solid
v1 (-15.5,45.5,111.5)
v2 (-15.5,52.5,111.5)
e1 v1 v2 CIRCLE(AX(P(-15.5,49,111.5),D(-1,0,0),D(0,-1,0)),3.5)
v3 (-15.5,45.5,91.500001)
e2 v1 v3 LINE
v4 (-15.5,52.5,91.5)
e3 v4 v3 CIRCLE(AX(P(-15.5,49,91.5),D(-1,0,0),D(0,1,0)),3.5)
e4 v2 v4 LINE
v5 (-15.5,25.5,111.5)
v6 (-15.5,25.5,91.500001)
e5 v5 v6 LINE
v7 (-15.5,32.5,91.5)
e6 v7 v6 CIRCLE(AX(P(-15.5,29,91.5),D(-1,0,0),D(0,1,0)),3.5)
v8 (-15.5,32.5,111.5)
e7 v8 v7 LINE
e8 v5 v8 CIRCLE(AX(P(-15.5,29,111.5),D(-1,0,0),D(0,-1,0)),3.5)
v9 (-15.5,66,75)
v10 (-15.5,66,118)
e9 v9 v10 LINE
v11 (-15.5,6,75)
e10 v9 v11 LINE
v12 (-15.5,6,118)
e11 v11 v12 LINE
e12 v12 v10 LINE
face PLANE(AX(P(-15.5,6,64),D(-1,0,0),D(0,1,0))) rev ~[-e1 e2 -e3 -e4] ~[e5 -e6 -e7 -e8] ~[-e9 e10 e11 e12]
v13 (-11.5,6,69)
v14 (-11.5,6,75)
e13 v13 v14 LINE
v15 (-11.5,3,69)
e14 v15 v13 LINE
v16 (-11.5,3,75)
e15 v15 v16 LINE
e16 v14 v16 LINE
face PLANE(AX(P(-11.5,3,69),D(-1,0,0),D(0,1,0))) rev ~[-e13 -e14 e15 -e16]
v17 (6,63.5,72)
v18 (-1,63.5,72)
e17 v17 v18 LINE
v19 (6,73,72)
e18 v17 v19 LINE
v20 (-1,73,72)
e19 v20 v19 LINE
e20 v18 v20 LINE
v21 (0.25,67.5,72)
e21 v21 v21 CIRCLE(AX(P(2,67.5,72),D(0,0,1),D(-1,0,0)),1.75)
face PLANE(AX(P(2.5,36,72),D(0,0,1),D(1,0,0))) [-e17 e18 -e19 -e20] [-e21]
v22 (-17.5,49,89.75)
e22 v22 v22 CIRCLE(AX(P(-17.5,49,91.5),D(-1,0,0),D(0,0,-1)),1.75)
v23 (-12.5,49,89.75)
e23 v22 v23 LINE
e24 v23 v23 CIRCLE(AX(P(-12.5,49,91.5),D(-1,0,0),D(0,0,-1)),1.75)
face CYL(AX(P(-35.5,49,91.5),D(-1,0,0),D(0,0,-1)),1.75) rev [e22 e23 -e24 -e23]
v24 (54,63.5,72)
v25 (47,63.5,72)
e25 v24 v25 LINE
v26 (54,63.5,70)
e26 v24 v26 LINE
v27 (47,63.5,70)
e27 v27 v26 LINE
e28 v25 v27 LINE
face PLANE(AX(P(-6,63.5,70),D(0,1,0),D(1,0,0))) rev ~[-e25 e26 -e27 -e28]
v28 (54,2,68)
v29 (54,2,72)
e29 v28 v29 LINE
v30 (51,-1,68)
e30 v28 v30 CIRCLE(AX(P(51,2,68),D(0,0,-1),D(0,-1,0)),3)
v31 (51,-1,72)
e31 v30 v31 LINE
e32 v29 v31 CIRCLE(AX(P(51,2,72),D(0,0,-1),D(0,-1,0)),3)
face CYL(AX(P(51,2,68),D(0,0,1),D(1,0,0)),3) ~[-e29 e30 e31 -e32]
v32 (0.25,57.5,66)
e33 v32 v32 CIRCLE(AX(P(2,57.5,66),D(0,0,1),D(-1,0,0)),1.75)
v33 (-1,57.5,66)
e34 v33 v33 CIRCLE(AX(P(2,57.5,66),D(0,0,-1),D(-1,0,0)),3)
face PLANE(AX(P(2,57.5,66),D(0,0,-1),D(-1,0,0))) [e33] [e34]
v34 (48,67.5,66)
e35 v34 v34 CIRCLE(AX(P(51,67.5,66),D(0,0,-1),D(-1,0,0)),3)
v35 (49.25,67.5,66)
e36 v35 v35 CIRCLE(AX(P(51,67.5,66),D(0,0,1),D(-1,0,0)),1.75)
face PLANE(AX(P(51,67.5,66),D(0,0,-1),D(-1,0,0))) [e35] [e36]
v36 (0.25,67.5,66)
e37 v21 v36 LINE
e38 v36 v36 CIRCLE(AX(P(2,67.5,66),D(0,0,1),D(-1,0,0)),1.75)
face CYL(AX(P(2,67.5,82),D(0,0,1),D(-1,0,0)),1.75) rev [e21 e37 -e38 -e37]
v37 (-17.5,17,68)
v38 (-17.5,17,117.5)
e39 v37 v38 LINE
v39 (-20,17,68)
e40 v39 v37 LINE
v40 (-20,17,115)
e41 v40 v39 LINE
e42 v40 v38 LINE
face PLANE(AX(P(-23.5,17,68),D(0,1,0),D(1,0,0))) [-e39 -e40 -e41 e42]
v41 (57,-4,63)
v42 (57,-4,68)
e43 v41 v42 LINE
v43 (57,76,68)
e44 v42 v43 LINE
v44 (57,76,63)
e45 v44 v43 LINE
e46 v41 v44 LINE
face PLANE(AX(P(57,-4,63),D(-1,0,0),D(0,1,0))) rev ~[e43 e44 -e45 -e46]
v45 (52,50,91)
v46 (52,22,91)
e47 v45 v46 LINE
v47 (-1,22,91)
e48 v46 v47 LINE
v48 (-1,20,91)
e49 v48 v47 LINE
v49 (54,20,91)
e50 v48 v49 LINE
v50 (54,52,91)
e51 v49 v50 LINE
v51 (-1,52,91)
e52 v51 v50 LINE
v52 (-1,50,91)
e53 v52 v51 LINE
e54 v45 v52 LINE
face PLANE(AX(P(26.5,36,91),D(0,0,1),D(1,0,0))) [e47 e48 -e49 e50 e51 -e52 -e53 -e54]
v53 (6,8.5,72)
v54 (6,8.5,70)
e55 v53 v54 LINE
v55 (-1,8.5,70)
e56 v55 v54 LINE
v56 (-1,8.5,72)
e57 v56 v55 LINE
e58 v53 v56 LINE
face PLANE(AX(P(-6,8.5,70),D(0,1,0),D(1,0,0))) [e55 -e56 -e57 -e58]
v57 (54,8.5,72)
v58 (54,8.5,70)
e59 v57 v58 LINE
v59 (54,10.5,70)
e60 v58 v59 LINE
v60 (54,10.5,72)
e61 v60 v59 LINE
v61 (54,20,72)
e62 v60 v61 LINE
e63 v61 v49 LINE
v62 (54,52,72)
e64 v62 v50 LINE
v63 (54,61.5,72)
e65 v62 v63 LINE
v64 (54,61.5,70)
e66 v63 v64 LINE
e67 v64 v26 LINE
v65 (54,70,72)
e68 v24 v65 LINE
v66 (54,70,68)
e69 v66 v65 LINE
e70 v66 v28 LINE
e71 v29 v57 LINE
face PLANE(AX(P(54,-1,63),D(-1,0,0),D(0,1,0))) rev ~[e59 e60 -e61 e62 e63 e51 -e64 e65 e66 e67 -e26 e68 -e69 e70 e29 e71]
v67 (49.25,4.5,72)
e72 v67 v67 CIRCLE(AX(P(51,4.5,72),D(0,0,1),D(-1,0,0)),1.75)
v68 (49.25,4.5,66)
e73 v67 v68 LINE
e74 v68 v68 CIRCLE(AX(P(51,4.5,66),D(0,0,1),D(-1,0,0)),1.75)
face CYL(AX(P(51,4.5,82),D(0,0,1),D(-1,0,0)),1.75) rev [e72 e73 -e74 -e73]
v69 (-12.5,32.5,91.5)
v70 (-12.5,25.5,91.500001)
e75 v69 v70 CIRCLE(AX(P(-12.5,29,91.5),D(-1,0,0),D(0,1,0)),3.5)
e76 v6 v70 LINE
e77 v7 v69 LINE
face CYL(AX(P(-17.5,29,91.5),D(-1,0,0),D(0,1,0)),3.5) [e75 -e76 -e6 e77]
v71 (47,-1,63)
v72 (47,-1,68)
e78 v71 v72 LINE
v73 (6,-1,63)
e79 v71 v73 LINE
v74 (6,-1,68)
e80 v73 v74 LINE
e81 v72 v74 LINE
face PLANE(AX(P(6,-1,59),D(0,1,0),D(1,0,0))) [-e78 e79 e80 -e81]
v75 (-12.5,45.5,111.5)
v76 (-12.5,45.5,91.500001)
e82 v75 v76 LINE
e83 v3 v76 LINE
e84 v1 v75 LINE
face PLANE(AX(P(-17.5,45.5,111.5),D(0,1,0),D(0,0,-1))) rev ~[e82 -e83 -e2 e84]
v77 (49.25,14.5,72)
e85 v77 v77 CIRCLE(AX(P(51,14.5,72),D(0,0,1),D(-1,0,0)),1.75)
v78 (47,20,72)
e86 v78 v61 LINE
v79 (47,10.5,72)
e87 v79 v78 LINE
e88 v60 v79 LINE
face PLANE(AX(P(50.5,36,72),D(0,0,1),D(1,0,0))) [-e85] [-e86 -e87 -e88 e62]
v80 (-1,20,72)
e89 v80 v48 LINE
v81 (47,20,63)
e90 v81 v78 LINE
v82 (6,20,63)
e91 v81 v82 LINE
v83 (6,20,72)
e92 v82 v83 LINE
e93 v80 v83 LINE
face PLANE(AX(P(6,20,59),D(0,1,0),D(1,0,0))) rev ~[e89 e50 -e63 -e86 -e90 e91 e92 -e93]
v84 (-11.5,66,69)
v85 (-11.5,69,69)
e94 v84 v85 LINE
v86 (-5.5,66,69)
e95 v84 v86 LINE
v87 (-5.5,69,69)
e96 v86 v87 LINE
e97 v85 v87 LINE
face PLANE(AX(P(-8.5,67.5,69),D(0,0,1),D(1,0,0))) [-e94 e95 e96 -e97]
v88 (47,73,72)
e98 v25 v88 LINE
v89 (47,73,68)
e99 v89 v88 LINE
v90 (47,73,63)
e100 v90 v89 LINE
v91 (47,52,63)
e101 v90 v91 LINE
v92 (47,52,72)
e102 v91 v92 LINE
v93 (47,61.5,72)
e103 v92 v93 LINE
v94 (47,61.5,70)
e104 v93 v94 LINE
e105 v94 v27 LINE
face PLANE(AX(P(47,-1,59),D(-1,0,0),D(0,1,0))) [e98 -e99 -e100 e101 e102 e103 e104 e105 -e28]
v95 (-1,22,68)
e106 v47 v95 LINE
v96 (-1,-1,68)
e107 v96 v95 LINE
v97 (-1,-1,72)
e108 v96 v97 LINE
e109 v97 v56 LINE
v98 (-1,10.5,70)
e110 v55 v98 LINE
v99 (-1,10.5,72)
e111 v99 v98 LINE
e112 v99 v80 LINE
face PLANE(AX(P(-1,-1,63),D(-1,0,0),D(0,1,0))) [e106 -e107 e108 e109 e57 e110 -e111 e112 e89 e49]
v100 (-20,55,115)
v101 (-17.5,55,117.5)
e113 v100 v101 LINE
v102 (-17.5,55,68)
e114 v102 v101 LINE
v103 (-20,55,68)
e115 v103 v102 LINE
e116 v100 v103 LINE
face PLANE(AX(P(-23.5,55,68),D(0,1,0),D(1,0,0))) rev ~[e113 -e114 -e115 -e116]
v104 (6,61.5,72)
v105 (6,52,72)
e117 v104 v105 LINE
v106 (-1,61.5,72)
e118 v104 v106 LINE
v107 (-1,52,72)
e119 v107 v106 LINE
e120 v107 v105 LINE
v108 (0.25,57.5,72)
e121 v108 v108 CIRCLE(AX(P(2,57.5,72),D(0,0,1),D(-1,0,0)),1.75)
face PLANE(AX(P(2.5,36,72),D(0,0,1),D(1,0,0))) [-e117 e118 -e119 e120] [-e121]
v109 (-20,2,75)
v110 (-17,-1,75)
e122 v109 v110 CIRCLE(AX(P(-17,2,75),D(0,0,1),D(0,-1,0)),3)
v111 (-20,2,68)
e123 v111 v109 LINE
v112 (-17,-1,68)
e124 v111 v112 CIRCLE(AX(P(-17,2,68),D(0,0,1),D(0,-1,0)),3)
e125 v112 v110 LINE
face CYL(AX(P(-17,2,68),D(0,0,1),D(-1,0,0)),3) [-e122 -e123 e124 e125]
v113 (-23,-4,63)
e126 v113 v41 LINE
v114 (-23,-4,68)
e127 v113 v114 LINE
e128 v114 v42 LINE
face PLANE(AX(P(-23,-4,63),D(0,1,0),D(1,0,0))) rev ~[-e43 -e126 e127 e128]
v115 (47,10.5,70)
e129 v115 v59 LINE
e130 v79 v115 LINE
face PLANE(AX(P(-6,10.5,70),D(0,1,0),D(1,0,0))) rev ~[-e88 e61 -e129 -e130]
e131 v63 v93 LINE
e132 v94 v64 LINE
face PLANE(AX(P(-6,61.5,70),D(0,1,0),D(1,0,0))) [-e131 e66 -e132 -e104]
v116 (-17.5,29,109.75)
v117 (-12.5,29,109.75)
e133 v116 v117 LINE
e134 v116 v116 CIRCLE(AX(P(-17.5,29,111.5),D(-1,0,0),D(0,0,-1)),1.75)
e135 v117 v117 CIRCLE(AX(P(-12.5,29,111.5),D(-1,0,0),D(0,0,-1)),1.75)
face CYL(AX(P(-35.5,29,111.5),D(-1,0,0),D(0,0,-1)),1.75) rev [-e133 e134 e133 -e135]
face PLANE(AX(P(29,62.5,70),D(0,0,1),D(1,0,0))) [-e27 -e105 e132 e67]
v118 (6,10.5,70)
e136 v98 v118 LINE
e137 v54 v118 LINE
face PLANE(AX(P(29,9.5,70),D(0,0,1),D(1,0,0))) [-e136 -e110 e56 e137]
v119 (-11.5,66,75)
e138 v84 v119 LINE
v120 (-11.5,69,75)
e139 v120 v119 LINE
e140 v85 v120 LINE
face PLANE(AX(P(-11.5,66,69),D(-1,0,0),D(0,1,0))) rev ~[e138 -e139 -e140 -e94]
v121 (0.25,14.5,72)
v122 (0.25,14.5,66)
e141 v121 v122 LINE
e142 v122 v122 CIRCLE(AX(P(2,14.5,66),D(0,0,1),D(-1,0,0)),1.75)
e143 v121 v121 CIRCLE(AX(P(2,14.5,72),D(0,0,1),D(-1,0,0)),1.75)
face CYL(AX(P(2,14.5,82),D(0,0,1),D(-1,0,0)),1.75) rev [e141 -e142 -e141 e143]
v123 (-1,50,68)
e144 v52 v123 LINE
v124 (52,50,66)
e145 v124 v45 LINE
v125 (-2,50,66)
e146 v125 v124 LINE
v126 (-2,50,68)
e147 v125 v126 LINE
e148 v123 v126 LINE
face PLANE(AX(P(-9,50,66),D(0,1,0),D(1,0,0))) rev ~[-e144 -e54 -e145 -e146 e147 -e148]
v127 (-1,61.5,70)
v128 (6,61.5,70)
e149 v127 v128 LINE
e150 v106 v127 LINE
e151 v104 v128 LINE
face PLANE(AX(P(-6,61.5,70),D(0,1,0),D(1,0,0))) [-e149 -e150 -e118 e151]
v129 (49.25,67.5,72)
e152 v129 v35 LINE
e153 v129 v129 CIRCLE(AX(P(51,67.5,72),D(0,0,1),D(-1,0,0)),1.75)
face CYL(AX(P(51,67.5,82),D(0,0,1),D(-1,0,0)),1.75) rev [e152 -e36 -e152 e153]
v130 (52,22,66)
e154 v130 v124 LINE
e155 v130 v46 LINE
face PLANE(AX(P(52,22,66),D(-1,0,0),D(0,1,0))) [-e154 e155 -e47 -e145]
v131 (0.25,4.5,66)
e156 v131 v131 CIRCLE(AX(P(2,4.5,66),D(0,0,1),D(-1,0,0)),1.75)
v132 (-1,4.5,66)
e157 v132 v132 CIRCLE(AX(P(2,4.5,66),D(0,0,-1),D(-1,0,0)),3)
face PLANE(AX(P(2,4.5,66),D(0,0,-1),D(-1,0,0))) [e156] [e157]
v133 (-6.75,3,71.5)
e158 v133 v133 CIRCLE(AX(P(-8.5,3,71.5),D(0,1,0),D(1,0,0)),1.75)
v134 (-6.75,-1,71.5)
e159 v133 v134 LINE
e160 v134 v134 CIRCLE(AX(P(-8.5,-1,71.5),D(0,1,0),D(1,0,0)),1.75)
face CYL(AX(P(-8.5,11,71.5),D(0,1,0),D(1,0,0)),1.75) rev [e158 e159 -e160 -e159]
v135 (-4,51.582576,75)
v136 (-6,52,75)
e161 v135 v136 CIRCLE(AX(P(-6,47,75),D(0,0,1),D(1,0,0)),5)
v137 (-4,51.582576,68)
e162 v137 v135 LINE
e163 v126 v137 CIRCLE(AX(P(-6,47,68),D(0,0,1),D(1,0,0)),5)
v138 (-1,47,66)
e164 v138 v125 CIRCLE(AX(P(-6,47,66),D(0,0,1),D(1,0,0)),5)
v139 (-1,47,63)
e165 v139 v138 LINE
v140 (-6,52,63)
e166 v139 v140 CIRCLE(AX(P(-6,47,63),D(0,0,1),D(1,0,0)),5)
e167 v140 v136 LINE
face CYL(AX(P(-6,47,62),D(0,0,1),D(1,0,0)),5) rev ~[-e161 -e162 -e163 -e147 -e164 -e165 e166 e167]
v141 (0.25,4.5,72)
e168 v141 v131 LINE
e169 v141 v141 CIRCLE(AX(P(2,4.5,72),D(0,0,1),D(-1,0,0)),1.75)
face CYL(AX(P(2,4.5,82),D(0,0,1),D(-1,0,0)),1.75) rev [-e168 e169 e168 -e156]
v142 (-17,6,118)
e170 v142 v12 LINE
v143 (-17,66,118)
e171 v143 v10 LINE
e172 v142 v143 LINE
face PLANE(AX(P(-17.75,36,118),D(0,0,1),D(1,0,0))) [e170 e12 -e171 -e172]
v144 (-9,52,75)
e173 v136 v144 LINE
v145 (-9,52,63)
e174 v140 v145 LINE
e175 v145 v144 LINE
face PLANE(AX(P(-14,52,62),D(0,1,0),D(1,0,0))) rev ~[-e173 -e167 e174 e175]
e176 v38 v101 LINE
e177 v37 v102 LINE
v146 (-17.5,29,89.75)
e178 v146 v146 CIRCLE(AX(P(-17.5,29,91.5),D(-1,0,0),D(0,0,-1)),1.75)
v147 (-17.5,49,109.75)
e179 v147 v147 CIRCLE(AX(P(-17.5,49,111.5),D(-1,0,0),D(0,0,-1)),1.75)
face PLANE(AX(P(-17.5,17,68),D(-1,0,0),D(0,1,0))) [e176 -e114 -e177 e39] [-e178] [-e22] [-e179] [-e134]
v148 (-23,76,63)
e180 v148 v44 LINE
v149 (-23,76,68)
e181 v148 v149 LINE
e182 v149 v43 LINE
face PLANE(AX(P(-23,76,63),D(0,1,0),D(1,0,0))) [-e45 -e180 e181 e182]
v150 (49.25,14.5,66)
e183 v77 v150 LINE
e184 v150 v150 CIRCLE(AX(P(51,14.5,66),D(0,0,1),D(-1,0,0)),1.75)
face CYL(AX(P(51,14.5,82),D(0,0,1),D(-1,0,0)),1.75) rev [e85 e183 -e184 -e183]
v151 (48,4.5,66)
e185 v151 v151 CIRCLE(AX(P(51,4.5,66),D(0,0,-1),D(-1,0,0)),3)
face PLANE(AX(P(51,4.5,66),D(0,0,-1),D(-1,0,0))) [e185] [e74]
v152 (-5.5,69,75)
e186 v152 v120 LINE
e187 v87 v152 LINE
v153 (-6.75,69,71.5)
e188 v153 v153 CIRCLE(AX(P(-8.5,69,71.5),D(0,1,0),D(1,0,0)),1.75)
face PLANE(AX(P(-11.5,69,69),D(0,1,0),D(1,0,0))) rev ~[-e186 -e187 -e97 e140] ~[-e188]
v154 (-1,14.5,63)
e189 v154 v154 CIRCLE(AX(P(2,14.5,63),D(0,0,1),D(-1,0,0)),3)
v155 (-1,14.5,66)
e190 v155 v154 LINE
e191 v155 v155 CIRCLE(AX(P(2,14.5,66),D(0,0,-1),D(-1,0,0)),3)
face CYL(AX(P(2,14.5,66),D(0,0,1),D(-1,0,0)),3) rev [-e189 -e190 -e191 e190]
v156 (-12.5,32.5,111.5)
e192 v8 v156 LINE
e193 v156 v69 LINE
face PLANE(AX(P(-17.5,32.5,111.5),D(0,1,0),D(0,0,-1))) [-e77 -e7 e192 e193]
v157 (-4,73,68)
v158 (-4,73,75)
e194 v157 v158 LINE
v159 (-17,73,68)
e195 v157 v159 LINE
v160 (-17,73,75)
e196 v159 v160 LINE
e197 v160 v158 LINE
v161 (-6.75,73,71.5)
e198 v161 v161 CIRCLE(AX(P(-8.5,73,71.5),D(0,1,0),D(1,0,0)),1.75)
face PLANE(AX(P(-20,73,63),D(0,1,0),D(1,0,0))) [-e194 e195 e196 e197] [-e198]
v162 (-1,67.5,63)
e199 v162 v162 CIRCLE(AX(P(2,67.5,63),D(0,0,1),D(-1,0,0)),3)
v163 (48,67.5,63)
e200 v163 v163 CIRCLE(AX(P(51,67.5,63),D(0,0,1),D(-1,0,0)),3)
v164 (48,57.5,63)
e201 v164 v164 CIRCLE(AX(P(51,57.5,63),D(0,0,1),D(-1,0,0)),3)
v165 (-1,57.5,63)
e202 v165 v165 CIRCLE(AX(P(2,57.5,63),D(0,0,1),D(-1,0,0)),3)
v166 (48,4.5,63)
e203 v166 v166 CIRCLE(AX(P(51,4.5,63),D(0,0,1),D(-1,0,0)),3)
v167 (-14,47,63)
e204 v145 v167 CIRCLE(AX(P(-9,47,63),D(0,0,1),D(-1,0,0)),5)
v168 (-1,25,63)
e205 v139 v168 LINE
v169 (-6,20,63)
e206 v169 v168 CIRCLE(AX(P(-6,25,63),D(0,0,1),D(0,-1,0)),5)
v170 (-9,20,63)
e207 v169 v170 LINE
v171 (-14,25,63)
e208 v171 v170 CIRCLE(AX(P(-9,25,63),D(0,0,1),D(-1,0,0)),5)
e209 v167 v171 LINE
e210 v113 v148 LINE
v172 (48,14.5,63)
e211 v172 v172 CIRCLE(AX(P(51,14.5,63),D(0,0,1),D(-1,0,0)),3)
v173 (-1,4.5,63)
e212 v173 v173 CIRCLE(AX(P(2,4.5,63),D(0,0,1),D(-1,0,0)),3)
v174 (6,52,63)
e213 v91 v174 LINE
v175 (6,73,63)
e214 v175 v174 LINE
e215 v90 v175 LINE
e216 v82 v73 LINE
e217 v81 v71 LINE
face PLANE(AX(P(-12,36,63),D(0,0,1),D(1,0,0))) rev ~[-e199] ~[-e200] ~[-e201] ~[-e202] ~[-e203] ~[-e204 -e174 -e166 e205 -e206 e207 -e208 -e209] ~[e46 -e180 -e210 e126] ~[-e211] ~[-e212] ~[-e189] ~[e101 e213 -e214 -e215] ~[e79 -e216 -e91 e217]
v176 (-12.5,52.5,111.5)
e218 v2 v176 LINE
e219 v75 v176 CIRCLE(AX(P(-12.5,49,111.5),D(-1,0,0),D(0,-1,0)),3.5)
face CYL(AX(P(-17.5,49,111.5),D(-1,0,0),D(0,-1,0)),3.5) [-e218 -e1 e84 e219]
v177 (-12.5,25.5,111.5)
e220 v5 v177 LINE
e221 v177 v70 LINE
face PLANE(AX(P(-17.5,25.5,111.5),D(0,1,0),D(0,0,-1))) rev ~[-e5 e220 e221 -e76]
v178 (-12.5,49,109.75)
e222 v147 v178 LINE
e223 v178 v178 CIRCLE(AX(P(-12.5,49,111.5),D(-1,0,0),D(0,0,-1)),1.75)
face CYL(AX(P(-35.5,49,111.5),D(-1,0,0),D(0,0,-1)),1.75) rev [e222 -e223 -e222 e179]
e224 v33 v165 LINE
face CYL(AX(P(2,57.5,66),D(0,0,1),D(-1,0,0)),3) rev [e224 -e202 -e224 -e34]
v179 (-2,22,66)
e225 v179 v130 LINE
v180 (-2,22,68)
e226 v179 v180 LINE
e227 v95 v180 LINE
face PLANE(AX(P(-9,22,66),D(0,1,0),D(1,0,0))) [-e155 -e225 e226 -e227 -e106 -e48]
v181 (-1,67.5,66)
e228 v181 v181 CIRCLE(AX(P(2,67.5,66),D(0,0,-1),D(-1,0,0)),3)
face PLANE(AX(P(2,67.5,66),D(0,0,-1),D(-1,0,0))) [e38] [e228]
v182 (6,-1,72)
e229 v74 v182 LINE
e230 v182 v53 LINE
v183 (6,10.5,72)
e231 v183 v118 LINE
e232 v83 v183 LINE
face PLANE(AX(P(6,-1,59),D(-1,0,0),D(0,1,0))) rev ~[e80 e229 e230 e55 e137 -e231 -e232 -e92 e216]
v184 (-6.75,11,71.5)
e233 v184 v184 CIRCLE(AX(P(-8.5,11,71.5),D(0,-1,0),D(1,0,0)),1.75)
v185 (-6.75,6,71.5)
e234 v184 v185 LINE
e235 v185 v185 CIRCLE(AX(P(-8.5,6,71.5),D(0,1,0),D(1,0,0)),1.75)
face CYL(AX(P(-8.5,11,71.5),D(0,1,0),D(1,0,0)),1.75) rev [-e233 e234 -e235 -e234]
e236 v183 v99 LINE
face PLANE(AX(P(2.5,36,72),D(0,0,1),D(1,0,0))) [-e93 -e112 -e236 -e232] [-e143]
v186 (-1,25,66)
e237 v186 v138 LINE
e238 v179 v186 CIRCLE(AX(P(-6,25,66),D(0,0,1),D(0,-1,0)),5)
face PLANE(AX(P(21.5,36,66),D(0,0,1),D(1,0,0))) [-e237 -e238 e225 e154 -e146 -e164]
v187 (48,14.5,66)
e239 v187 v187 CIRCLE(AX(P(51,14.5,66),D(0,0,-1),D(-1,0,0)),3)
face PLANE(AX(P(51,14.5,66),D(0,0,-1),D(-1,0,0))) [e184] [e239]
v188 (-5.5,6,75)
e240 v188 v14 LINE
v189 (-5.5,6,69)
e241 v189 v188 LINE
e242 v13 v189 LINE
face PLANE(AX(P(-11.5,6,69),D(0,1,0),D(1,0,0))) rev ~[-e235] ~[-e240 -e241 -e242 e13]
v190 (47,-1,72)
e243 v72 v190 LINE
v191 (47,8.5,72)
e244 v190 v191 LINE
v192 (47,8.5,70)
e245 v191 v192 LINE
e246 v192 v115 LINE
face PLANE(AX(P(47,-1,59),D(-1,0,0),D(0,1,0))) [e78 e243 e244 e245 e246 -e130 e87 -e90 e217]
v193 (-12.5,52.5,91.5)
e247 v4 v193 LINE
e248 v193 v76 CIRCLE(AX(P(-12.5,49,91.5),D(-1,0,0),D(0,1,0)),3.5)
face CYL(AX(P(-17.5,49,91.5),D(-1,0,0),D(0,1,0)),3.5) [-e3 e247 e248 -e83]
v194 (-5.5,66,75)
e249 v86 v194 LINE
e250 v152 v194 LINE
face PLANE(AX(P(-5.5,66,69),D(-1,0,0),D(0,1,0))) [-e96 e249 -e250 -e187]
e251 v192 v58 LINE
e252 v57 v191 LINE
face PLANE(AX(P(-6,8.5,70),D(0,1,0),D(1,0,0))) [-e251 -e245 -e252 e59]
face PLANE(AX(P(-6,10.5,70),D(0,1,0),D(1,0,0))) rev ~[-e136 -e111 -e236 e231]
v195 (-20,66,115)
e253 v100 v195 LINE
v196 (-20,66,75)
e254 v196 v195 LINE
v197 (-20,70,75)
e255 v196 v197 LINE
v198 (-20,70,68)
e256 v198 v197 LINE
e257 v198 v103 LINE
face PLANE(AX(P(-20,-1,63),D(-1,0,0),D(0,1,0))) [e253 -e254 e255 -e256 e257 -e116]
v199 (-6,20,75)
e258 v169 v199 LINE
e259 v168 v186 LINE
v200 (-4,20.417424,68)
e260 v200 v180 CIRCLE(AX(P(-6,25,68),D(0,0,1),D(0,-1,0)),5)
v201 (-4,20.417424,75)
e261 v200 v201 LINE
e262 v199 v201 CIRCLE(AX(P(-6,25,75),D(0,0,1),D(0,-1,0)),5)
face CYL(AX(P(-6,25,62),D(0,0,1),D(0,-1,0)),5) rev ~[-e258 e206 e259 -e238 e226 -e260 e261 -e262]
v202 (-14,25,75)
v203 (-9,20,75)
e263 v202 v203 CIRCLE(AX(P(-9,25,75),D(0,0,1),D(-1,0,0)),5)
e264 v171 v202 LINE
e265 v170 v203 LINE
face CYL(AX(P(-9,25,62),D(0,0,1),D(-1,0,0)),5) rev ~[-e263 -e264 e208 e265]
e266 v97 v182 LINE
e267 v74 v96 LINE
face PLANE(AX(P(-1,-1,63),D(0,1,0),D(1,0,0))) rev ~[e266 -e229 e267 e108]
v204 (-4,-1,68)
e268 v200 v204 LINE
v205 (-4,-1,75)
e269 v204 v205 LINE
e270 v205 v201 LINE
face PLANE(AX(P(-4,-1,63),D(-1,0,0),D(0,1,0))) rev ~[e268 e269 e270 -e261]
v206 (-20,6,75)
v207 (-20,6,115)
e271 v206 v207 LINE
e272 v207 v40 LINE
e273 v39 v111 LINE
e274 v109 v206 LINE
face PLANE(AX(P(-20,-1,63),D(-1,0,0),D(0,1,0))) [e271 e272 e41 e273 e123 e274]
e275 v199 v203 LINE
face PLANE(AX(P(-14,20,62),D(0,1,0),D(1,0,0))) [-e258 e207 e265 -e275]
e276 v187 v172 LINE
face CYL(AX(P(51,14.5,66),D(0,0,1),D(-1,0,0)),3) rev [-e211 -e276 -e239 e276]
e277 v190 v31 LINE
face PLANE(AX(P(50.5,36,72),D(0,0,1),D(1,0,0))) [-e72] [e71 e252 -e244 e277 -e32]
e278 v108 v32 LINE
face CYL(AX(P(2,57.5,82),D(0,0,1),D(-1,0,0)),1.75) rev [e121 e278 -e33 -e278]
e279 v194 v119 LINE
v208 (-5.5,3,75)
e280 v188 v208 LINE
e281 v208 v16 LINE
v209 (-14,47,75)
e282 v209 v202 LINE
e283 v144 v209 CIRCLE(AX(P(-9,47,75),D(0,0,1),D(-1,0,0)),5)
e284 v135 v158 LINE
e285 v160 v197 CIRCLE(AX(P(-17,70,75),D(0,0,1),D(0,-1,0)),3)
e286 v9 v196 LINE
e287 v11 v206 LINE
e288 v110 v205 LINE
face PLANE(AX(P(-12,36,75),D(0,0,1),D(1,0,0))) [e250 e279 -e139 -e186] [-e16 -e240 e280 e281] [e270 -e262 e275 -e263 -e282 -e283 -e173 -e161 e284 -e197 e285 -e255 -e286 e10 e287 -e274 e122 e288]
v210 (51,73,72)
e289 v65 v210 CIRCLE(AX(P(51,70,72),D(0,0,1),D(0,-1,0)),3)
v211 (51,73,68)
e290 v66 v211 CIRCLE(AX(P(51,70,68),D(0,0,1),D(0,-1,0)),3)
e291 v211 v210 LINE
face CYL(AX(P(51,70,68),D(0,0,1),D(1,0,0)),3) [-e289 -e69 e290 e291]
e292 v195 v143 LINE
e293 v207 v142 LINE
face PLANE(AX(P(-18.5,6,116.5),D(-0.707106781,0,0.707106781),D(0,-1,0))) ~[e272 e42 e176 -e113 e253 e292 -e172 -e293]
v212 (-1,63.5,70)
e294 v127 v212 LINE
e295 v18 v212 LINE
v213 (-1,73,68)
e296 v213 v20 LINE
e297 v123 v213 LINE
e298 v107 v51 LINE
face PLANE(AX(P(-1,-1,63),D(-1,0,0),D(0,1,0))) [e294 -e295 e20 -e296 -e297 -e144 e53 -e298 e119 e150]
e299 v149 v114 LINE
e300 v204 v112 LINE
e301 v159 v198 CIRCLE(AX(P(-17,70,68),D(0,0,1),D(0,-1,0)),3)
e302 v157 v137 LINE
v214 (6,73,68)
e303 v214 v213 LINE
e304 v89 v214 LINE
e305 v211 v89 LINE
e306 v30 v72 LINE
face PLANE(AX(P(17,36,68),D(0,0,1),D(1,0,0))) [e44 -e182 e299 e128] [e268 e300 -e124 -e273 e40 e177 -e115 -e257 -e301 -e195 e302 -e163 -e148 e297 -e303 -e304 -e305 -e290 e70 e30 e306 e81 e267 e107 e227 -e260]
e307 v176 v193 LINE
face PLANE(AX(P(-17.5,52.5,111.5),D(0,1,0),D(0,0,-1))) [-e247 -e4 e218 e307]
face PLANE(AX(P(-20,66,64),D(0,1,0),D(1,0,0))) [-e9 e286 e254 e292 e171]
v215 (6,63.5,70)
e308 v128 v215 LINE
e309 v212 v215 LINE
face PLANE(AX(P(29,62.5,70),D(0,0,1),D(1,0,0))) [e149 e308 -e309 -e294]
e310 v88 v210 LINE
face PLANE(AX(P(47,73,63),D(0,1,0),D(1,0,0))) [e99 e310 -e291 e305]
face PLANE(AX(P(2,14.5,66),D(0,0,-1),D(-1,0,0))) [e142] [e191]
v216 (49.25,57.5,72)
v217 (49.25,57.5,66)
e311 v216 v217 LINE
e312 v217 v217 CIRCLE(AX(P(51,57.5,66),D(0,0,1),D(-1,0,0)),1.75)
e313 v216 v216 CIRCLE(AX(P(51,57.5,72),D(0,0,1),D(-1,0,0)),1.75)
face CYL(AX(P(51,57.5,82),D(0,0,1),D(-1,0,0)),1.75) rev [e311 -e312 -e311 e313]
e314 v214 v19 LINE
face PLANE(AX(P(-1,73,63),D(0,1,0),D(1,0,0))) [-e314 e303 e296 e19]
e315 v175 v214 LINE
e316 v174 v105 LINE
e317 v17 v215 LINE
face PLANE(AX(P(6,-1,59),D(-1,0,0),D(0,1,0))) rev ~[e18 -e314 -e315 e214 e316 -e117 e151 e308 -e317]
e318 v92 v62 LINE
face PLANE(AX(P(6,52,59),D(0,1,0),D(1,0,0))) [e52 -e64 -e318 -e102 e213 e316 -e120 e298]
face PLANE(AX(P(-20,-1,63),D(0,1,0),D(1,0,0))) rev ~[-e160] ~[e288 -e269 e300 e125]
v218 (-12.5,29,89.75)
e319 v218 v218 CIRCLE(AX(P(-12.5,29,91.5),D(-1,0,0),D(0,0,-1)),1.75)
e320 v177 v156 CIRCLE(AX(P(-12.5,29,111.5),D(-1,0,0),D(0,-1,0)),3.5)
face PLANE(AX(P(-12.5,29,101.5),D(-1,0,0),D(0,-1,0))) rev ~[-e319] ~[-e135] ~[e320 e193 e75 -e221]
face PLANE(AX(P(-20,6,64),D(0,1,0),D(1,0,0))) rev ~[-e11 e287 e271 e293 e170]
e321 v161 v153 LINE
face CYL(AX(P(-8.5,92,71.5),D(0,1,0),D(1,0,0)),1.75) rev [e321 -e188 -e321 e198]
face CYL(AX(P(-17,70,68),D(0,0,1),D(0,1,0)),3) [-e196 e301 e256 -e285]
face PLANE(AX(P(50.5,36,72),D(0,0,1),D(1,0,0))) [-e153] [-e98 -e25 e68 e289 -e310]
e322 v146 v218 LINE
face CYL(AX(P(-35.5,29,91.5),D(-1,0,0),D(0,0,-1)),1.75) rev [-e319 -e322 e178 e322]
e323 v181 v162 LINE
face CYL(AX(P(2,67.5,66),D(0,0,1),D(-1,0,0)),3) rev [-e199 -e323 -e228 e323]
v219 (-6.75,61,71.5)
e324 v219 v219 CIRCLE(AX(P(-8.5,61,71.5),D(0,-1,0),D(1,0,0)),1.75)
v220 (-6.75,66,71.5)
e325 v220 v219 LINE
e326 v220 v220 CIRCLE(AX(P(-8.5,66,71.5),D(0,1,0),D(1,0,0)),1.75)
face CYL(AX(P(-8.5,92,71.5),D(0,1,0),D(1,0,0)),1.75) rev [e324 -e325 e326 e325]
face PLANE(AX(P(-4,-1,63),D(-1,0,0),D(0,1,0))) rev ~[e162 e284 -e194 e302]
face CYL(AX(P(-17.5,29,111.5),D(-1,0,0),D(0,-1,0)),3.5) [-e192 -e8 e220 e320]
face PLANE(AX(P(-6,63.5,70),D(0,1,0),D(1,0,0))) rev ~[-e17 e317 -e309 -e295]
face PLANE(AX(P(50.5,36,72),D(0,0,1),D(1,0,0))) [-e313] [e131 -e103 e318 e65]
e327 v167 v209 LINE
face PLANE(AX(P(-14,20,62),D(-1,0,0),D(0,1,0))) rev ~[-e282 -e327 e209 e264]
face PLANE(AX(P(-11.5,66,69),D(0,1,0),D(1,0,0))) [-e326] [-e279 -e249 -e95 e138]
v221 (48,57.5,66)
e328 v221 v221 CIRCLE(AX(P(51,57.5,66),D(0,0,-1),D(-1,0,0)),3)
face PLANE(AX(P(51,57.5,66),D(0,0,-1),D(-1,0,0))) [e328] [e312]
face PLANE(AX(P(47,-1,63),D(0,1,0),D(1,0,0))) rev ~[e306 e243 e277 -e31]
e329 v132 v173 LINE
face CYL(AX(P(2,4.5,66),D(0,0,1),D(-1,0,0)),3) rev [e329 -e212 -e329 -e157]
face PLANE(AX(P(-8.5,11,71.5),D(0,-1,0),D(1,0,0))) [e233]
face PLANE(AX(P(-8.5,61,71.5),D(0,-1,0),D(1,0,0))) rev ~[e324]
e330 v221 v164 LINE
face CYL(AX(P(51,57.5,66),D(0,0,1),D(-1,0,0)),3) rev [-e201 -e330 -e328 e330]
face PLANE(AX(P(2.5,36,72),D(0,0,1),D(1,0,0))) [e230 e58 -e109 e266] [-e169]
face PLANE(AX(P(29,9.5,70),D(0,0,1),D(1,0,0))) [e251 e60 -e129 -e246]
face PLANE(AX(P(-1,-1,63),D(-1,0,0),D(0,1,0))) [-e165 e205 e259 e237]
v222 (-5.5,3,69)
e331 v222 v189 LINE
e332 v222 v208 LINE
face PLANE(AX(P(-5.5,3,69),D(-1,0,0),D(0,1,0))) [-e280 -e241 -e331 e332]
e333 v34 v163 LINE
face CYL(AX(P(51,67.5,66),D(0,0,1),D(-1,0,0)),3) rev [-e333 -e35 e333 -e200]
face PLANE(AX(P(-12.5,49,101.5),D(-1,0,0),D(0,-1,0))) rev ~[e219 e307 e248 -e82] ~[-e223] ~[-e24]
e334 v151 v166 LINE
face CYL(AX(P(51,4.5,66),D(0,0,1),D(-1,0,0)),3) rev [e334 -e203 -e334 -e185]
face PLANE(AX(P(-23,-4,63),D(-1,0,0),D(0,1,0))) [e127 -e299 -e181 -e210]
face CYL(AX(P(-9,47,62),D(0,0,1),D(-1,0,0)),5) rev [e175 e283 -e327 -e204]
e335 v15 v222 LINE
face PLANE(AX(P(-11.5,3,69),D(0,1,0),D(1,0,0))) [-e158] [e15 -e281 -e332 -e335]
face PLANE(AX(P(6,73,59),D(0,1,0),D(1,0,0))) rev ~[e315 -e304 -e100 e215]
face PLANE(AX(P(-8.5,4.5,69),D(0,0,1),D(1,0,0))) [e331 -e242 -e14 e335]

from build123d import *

# Parameters (mm, degrees)
BOX035_W                = 6
BOX035_H                = 38
BOX035_DEPTH            = 68
CYLINDER040_R           = 1.75
CYLINDER040_DEPTH       = 31
CYLINDER040_PITCH_ANGLE = 90
CYLINDER041_R           = 1.75
CYLINDER041_DEPTH       = 31
CYLINDER041_PITCH_ANGLE = 90
CYLINDER_R              = 1.75
CYLINDER_DEPTH          = 31
CYLINDER_PITCH_ANGLE    = 90
CYLINDER053_R           = 1.75
CYLINDER053_DEPTH       = 31
CYLINDER053_PITCH_ANGLE = 90
PAD_DEPTH               = 5
BOX037_W                = 61
BOX037_H                = 28
BOX037_DEPTH            = 44
BOX036_W                = 13
BOX036_H                = 32
BOX036_DEPTH            = 17
FILLET018002_R          = 5
BOX033_W                = 4.5
BOX033_H                = 60
BOX033_DEPTH            = 54
CYLINDER013_R           = 1.75
CYLINDER013_DEPTH       = 31
CYLINDER013_ROLL_ANGLE  = 90
CYLINDER012_R           = 1.75
CYLINDER012_DEPTH       = 31
CYLINDER012_ROLL_ANGLE  = 90
BOX018_W                = 6
BOX018_H                = 3
BOX018_DEPTH            = 12
BOX016_W                = 6
BOX016_H                = 3
BOX016_DEPTH            = 12
BOX017_W                = 16
BOX017_H                = 74
BOX017_DEPTH            = 12
BOX015_W                = 41
BOX015_H                = 21
BOX015_DEPTH            = 43
BOX014_W                = 41
BOX014_H                = 21
BOX014_DEPTH            = 43
CYLINDER008_R           = 1.75
CYLINDER008_DEPTH       = 21.5
CYLINDER008_PITCH_ANGLE = 90
CYLINDER009_R           = 3
CYLINDER009_DEPTH       = 21.5
CYLINDER009_PITCH_ANGLE = 90
FUSION009_PITCH_ANGLE   = 90
FUSION010_PITCH_ANGLE   = 90
FUSION008_PITCH_ANGLE   = 90
FUSION005_PITCH_ANGLE   = 90
BOX012_W                = 70
BOX012_H                = 2
BOX012_DEPTH            = 9
BOX011_W                = 7
BOX011_H                = 74
BOX011_DEPTH            = 9
BOX010_W                = 7
BOX010_H                = 74
BOX010_DEPTH            = 9
BOX009_W                = 80
BOX009_H                = 80
BOX009_DEPTH            = 5
BOX032_W                = 55
BOX032_H                = 32
BOX032_DEPTH            = 25
CHAMFER003_SIZE         = 3
FILLET018013_R          = 3


with BuildPart() as cube035:
    # Box035 → Box035 (new body)
    with BuildSketch(Plane(origin=(-23.5, 17, 68), x_dir=(1, 0, 0), z_dir=(0, 0, 1))):
        with Locations((3, 19)):
            Rectangle(BOX035_W, BOX035_H)
    extrude(amount=BOX035_DEPTH)


with BuildPart() as cylinder084:
    # Cylinder040 → Cylinder040 (new body)
    with BuildSketch(Plane.XY):
        Circle(CYLINDER040_R)
    extrude(amount=CYLINDER040_DEPTH)


with BuildPart() as cylinder084_1:
    # Cylinder040 pitch: moved
    add(cylinder084.part.rotate(Axis((0, 0, 0), (0, 1, 0)), CYLINDER040_PITCH_ANGLE))


with BuildPart() as cylinder084_2:
    # Cylinder040 placement: moved
    add(cylinder084_1.part.moved(Location((-49.5, 49, 91.5))))


with BuildPart() as cylinder085:
    # Cylinder041 → Cylinder041 (new body)
    with BuildSketch(Plane.XY):
        Circle(CYLINDER041_R)
    extrude(amount=CYLINDER041_DEPTH)


with BuildPart() as cylinder085_1:
    # Cylinder041 pitch: moved
    add(cylinder085.part.rotate(Axis((0, 0, 0), (0, 1, 0)), CYLINDER041_PITCH_ANGLE))


with BuildPart() as cylinder085_2:
    # Cylinder041 placement: moved
    add(cylinder085_1.part.moved(Location((-49.5, 49, 111.5))))


with BuildPart() as cylinder083:
    # Cylinder → Cylinder (new body)
    with BuildSketch(Plane.XY):
        Circle(CYLINDER_R)
    extrude(amount=CYLINDER_DEPTH)


with BuildPart() as cylinder083_1:
    # Cylinder pitch: moved
    add(cylinder083.part.rotate(Axis((0, 0, 0), (0, 1, 0)), CYLINDER_PITCH_ANGLE))


with BuildPart() as cylinder083_2:
    # Cylinder placement: moved
    add(cylinder083_1.part.moved(Location((-49.5, 29, 111.5))))


with BuildPart() as fusion038:
    # Cylinder053 → Cylinder053 (new body)
    with BuildSketch(Plane.XY):
        Circle(CYLINDER053_R)
    extrude(amount=CYLINDER053_DEPTH)


with BuildPart() as fusion038_1:
    # Cylinder053 pitch: moved
    add(fusion038.part.rotate(Axis((0, 0, 0), (0, 1, 0)), CYLINDER053_PITCH_ANGLE))


with BuildPart() as fusion038_2:
    # Cylinder053 placement: moved
    add(fusion038_1.part.moved(Location((-49.5, 29, 91.5))))

    # Fusion038: union Cylinder084, Cylinder085, Cylinder083
    add(cylinder084_2.part)
    add(cylinder085_2.part)
    add(cylinder083_2.part)


with BuildPart() as fusion038_3:
    # Fusion038 placement: moved
    add(fusion038_2.part.moved(Location((14, 0, 0))))


with BuildPart() as pad:
    # Sketch → Pad (new body)
    with BuildSketch(Plane(origin=(-22, 0, 0), x_dir=(0, -1, 0), z_dir=(-1, 0, 0))):
        with BuildLine():
            ThreePointArc((-45.5, 111.5), (-49, 115), (-52.5, 111.5))
            Line((-52.5, 111.5), (-52.5, 91.5))
            ThreePointArc((-52.5, 91.5), (-49, 88), (-45.5, 91.500001))
            Line((-45.5, 111.5), (-45.5, 91.500001))
        make_face()
    extrude(amount=-PAD_DEPTH)


with BuildPart() as clone_of_pad:
    # Clone base: copy of Pad
    add(pad.part)


with BuildPart() as clone_of_pad_1:
    # Clone placement: moved
    add(clone_of_pad.part.moved(Location((0, -20, 0))))


with BuildPart() as fusion039:
    # Fusion039 base: copy of Pad
    add(pad.part)

    # Fusion039: union Clone of Pad
    add(clone_of_pad_1.part)


with BuildPart() as fusion039_1:
    # Fusion039 placement: moved
    add(fusion039.part.moved(Location((4.5, 0, 0))))


with BuildPart() as cube036:
    # Box037 → Box037 (new body)
    with BuildSketch(Plane(origin=(-9, 22, 66), x_dir=(1, 0, 0), z_dir=(0, 0, 1))):
        with Locations((30.5, 14)):
            Rectangle(BOX037_W, BOX037_H)
    extrude(amount=BOX037_DEPTH)


with BuildPart() as fillet018002:
    # Box036 → Box036 (new body)
    with BuildSketch(Plane(origin=(-14, 20, 62), x_dir=(1, 0, 0), z_dir=(0, 0, 1))):
        with Locations((6.5, 16)):
            Rectangle(BOX036_W, BOX036_H)
    extrude(amount=BOX036_DEPTH)

    # Fillet018002
    fillet018002_edges = [fillet018002.edges().sort_by_distance(p)[0] for p in [
        (-14, 20, 70.5),
        (-14, 52, 70.5),
        (-1, 20, 70.5),
        (-1, 52, 70.5),
    ]]
    fillet(fillet018002_edges, radius=FILLET018002_R)


with BuildPart() as cube033:
    # Box033 → Box033 (new body)
    with BuildSketch(Plane(origin=(-20, 6, 64), x_dir=(1, 0, 0), z_dir=(0, 0, 1))):
        with Locations((2.25, 30)):
            Rectangle(BOX033_W, BOX033_H)
    extrude(amount=BOX033_DEPTH)


with BuildPart() as cylinder001:
    # Cylinder013 → Cylinder013 (new body)
    with BuildSketch(Plane.XY):
        Circle(CYLINDER013_R)
    extrude(amount=CYLINDER013_DEPTH)


with BuildPart() as cylinder001_1:
    # Cylinder013 roll: moved
    add(cylinder001.part.rotate(Axis((0, 0, 0), (1, 0, 0)), CYLINDER013_ROLL_ANGLE))


with BuildPart() as cylinder001_2:
    # Cylinder013 placement: moved
    add(cylinder001_1.part.moved(Location((-8.5, 11, 71.5))))


with BuildPart() as cylinder030:
    # Cylinder012 → Cylinder012 (new body)
    with BuildSketch(Plane.XY):
        Circle(CYLINDER012_R)
    extrude(amount=CYLINDER012_DEPTH)


with BuildPart() as cylinder030_1:
    # Cylinder012 roll: moved
    add(cylinder030.part.rotate(Axis((0, 0, 0), (1, 0, 0)), CYLINDER012_ROLL_ANGLE))


with BuildPart() as cylinder030_2:
    # Cylinder012 placement: moved
    add(cylinder030_1.part.moved(Location((-8.5, 92, 71.5))))


with BuildPart() as cube018:
    # Box018 → Box018 (new body)
    with BuildSketch(Plane(origin=(-11.5, 66, 69), x_dir=(1, 0, 0), z_dir=(0, 0, 1))):
        with Locations((3, 1.5)):
            Rectangle(BOX018_W, BOX018_H)
    extrude(amount=BOX018_DEPTH)


with BuildPart() as cube016:
    # Box016 → Box016 (new body)
    with BuildSketch(Plane(origin=(-11.5, 3, 69), x_dir=(1, 0, 0), z_dir=(0, 0, 1))):
        with Locations((3, 1.5)):
            Rectangle(BOX016_W, BOX016_H)
    extrude(amount=BOX016_DEPTH)


with BuildPart() as cube017:
    # Box017 → Box017 (new body)
    with BuildSketch(Plane(origin=(-20, -1, 63), x_dir=(1, 0, 0), z_dir=(0, 0, 1))):
        with Locations((8, 37)):
            Rectangle(BOX017_W, BOX017_H)
    extrude(amount=BOX017_DEPTH)


with BuildPart() as cube015:
    # Box015 → Box015 (new body)
    with BuildSketch(Plane(origin=(6, 52, 59), x_dir=(1, 0, 0), z_dir=(0, 0, 1))):
        with Locations((20.5, 10.5)):
            Rectangle(BOX015_W, BOX015_H)
    extrude(amount=BOX015_DEPTH)


with BuildPart() as cube014:
    # Box014 → Box014 (new body)
    with BuildSketch(Plane(origin=(6, -1, 59), x_dir=(1, 0, 0), z_dir=(0, 0, 1))):
        with Locations((20.5, 10.5)):
            Rectangle(BOX014_W, BOX014_H)
    extrude(amount=BOX014_DEPTH)


with BuildPart() as joint_d010:
    # Cylinder008 → Cylinder008 (new body)
    with BuildSketch(Plane.XY):
        Circle(CYLINDER008_R)
    extrude(amount=CYLINDER008_DEPTH)


with BuildPart() as joint_d010_1:
    # Cylinder008 pitch: moved
    add(joint_d010.part.rotate(Axis((0, 0, 0), (0, 1, 0)), CYLINDER008_PITCH_ANGLE))


with BuildPart() as joint_d010_2:
    # Cylinder008 placement: moved
    add(joint_d010_1.part.moved(Location((16, -24.5, 7))))


with BuildPart() as joint_d011:
    # Cylinder009 → Cylinder009 (new body)
    with BuildSketch(Plane.XY):
        Circle(CYLINDER009_R)
    extrude(amount=CYLINDER009_DEPTH)


with BuildPart() as joint_d011_1:
    # Cylinder009 pitch: moved
    add(joint_d011.part.rotate(Axis((0, 0, 0), (0, 1, 0)), CYLINDER009_PITCH_ANGLE))


with BuildPart() as joint_d011_2:
    # Cylinder009 placement: moved
    add(joint_d011_1.part.moved(Location((32, -24.5, 7))))


with BuildPart() as fusion009:
    # Fusion009 base: copy of Joint-D011
    add(joint_d011_2.part)

    # Fusion009: union Joint-D010
    add(joint_d010_2.part)


with BuildPart() as fusion009_1:
    # Fusion009 pitch: moved
    add(fusion009.part.rotate(Axis((0, 0, 0), (0, 1, 0)), FUSION009_PITCH_ANGLE))


with BuildPart() as fusion009_2:
    # Fusion009 placement: moved
    add(fusion009_1.part.moved(Location((-5, 39, 98))))


with BuildPart() as fusion010:
    # Fusion010 base: copy of Joint-D011
    add(joint_d011_2.part)

    # Fusion010: union Joint-D010
    add(joint_d010_2.part)


with BuildPart() as fusion010_1:
    # Fusion010 pitch: moved
    add(fusion010.part.rotate(Axis((0, 0, 0), (0, 1, 0)), FUSION010_PITCH_ANGLE))


with BuildPart() as fusion010_2:
    # Fusion010 placement: moved
    add(fusion010_1.part.moved(Location((-5, 29, 98))))


with BuildPart() as fusion008:
    # Fusion008 base: copy of Joint-D011
    add(joint_d011_2.part)

    # Fusion008: union Joint-D010
    add(joint_d010_2.part)


with BuildPart() as fusion008_1:
    # Fusion008 pitch: moved
    add(fusion008.part.rotate(Axis((0, 0, 0), (0, 1, 0)), FUSION008_PITCH_ANGLE))


with BuildPart() as fusion008_2:
    # Fusion008 placement: moved
    add(fusion008_1.part.moved(Location((44, 29, 98))))


with BuildPart() as fusion005:
    # Fusion005 base: copy of Joint-D011
    add(joint_d011_2.part)

    # Fusion005: union Joint-D010
    add(joint_d010_2.part)


with BuildPart() as fusion005_1:
    # Fusion005 pitch: moved
    add(fusion005.part.rotate(Axis((0, 0, 0), (0, 1, 0)), FUSION005_PITCH_ANGLE))


with BuildPart() as fusion005_2:
    # Fusion005 placement: moved
    add(fusion005_1.part.moved(Location((44, 39, 98))))


with BuildPart() as cube012:
    # Box012 → Box012 (new body)
    with BuildSketch(Plane(origin=(-6, 8.5, 70), x_dir=(1, 0, 0), z_dir=(0, 0, 1))):
        with Locations((35, 1)):
            Rectangle(BOX012_W, BOX012_H)
    extrude(amount=BOX012_DEPTH)


with BuildPart() as fusion011:
    # Fusion011 base: copy of Cube012
    add(cube012.part)

    # Fusion011: union Fusion009, Fusion010, Fusion008, Fusion005
    add(fusion009_2.part)
    add(fusion010_2.part)
    add(fusion008_2.part)
    add(fusion005_2.part)


with BuildPart() as fusion012:
    # Fusion012 base: copy of Cube012
    add(cube012.part)

    # Fusion012: union Fusion009, Fusion010, Fusion008, Fusion005
    add(fusion009_2.part)
    add(fusion010_2.part)
    add(fusion008_2.part)
    add(fusion005_2.part)


with BuildPart() as fusion012_1:
    # Fusion012 placement: moved
    add(fusion012.part.moved(Location((0, 53, 0))))


with BuildPart() as cube011:
    # Box011 → Box011 (new body)
    with BuildSketch(Plane(origin=(47, -1, 63), x_dir=(1, 0, 0), z_dir=(0, 0, 1))):
        with Locations((3.5, 37)):
            Rectangle(BOX011_W, BOX011_H)
    extrude(amount=BOX011_DEPTH)


with BuildPart() as cube010:
    # Box010 → Box010 (new body)
    with BuildSketch(Plane(origin=(-1, -1, 63), x_dir=(1, 0, 0), z_dir=(0, 0, 1))):
        with Locations((3.5, 37)):
            Rectangle(BOX010_W, BOX010_H)
    extrude(amount=BOX010_DEPTH)


with BuildPart() as cut050:
    # Box009 → Box009 (new body)
    with BuildSketch(Plane(origin=(-23, -4, 63), x_dir=(1, 0, 0), z_dir=(0, 0, 1))):
        with Locations((40, 40)):
            Rectangle(BOX009_W, BOX009_H)
    extrude(amount=BOX009_DEPTH)

    # Fusion013: union Cube011, Cube010
    add(cube011.part)
    add(cube010.part)

    # Cut018: cut Fusion012
    add(fusion012_1.part, mode=Mode.SUBTRACT)

    # Cut019: cut Fusion011
    add(fusion011.part, mode=Mode.SUBTRACT)

    # Cut020: cut Cube014
    add(cube014.part, mode=Mode.SUBTRACT)

    # Cut021: cut Cube015
    add(cube015.part, mode=Mode.SUBTRACT)

    # Fusion014: union Cube017
    add(cube017.part)

    # Cut022: cut Cube016
    add(cube016.part, mode=Mode.SUBTRACT)

    # Cut023: cut Cube018
    add(cube018.part, mode=Mode.SUBTRACT)

    # Cut024: cut Cylinder030
    add(cylinder030_2.part, mode=Mode.SUBTRACT)

    # Cut050: cut Cylinder001
    add(cylinder001_2.part, mode=Mode.SUBTRACT)


with BuildPart() as prechassis:
    # Box032 → Box032 (new body)
    with BuildSketch(Plane(origin=(-1, 20, 66), x_dir=(1, 0, 0), z_dir=(0, 0, 1))):
        with Locations((27.5, 16)):
            Rectangle(BOX032_W, BOX032_H)
    extrude(amount=BOX032_DEPTH)

    # Fusion025: union Cut050
    add(cut050.part)

    # Fusion026: union Cube033
    add(cube033.part)

    # Cut051: cut Fillet018002
    add(fillet018002.part, mode=Mode.SUBTRACT)

    # Cut066: cut Cube036
    add(cube036.part, mode=Mode.SUBTRACT)

    # Chamfer003
    chamfer003_edges = [prechassis.edges().sort_by_distance(p)[0] for p in [
        (-20, 36, 118),
    ]]
    chamfer(chamfer003_edges, length=CHAMFER003_SIZE)

    # Fusion040: union Fusion039
    add(fusion039_1.part)

    # Cut067: cut Fusion038
    add(fusion038_3.part, mode=Mode.SUBTRACT)

    # Cut068: cut Cube035
    add(cube035.part, mode=Mode.SUBTRACT)

    # Fillet018013
    fillet018013_edges = [prechassis.edges().sort_by_distance(p)[0] for p in [
        (-20, -1, 71.5),
        (-20, 73, 71.5),
        (54, -1, 70),
        (54, 73, 70),
    ]]
    fillet(fillet018013_edges, radius=FILLET018013_R)


solid = prechassis.part
